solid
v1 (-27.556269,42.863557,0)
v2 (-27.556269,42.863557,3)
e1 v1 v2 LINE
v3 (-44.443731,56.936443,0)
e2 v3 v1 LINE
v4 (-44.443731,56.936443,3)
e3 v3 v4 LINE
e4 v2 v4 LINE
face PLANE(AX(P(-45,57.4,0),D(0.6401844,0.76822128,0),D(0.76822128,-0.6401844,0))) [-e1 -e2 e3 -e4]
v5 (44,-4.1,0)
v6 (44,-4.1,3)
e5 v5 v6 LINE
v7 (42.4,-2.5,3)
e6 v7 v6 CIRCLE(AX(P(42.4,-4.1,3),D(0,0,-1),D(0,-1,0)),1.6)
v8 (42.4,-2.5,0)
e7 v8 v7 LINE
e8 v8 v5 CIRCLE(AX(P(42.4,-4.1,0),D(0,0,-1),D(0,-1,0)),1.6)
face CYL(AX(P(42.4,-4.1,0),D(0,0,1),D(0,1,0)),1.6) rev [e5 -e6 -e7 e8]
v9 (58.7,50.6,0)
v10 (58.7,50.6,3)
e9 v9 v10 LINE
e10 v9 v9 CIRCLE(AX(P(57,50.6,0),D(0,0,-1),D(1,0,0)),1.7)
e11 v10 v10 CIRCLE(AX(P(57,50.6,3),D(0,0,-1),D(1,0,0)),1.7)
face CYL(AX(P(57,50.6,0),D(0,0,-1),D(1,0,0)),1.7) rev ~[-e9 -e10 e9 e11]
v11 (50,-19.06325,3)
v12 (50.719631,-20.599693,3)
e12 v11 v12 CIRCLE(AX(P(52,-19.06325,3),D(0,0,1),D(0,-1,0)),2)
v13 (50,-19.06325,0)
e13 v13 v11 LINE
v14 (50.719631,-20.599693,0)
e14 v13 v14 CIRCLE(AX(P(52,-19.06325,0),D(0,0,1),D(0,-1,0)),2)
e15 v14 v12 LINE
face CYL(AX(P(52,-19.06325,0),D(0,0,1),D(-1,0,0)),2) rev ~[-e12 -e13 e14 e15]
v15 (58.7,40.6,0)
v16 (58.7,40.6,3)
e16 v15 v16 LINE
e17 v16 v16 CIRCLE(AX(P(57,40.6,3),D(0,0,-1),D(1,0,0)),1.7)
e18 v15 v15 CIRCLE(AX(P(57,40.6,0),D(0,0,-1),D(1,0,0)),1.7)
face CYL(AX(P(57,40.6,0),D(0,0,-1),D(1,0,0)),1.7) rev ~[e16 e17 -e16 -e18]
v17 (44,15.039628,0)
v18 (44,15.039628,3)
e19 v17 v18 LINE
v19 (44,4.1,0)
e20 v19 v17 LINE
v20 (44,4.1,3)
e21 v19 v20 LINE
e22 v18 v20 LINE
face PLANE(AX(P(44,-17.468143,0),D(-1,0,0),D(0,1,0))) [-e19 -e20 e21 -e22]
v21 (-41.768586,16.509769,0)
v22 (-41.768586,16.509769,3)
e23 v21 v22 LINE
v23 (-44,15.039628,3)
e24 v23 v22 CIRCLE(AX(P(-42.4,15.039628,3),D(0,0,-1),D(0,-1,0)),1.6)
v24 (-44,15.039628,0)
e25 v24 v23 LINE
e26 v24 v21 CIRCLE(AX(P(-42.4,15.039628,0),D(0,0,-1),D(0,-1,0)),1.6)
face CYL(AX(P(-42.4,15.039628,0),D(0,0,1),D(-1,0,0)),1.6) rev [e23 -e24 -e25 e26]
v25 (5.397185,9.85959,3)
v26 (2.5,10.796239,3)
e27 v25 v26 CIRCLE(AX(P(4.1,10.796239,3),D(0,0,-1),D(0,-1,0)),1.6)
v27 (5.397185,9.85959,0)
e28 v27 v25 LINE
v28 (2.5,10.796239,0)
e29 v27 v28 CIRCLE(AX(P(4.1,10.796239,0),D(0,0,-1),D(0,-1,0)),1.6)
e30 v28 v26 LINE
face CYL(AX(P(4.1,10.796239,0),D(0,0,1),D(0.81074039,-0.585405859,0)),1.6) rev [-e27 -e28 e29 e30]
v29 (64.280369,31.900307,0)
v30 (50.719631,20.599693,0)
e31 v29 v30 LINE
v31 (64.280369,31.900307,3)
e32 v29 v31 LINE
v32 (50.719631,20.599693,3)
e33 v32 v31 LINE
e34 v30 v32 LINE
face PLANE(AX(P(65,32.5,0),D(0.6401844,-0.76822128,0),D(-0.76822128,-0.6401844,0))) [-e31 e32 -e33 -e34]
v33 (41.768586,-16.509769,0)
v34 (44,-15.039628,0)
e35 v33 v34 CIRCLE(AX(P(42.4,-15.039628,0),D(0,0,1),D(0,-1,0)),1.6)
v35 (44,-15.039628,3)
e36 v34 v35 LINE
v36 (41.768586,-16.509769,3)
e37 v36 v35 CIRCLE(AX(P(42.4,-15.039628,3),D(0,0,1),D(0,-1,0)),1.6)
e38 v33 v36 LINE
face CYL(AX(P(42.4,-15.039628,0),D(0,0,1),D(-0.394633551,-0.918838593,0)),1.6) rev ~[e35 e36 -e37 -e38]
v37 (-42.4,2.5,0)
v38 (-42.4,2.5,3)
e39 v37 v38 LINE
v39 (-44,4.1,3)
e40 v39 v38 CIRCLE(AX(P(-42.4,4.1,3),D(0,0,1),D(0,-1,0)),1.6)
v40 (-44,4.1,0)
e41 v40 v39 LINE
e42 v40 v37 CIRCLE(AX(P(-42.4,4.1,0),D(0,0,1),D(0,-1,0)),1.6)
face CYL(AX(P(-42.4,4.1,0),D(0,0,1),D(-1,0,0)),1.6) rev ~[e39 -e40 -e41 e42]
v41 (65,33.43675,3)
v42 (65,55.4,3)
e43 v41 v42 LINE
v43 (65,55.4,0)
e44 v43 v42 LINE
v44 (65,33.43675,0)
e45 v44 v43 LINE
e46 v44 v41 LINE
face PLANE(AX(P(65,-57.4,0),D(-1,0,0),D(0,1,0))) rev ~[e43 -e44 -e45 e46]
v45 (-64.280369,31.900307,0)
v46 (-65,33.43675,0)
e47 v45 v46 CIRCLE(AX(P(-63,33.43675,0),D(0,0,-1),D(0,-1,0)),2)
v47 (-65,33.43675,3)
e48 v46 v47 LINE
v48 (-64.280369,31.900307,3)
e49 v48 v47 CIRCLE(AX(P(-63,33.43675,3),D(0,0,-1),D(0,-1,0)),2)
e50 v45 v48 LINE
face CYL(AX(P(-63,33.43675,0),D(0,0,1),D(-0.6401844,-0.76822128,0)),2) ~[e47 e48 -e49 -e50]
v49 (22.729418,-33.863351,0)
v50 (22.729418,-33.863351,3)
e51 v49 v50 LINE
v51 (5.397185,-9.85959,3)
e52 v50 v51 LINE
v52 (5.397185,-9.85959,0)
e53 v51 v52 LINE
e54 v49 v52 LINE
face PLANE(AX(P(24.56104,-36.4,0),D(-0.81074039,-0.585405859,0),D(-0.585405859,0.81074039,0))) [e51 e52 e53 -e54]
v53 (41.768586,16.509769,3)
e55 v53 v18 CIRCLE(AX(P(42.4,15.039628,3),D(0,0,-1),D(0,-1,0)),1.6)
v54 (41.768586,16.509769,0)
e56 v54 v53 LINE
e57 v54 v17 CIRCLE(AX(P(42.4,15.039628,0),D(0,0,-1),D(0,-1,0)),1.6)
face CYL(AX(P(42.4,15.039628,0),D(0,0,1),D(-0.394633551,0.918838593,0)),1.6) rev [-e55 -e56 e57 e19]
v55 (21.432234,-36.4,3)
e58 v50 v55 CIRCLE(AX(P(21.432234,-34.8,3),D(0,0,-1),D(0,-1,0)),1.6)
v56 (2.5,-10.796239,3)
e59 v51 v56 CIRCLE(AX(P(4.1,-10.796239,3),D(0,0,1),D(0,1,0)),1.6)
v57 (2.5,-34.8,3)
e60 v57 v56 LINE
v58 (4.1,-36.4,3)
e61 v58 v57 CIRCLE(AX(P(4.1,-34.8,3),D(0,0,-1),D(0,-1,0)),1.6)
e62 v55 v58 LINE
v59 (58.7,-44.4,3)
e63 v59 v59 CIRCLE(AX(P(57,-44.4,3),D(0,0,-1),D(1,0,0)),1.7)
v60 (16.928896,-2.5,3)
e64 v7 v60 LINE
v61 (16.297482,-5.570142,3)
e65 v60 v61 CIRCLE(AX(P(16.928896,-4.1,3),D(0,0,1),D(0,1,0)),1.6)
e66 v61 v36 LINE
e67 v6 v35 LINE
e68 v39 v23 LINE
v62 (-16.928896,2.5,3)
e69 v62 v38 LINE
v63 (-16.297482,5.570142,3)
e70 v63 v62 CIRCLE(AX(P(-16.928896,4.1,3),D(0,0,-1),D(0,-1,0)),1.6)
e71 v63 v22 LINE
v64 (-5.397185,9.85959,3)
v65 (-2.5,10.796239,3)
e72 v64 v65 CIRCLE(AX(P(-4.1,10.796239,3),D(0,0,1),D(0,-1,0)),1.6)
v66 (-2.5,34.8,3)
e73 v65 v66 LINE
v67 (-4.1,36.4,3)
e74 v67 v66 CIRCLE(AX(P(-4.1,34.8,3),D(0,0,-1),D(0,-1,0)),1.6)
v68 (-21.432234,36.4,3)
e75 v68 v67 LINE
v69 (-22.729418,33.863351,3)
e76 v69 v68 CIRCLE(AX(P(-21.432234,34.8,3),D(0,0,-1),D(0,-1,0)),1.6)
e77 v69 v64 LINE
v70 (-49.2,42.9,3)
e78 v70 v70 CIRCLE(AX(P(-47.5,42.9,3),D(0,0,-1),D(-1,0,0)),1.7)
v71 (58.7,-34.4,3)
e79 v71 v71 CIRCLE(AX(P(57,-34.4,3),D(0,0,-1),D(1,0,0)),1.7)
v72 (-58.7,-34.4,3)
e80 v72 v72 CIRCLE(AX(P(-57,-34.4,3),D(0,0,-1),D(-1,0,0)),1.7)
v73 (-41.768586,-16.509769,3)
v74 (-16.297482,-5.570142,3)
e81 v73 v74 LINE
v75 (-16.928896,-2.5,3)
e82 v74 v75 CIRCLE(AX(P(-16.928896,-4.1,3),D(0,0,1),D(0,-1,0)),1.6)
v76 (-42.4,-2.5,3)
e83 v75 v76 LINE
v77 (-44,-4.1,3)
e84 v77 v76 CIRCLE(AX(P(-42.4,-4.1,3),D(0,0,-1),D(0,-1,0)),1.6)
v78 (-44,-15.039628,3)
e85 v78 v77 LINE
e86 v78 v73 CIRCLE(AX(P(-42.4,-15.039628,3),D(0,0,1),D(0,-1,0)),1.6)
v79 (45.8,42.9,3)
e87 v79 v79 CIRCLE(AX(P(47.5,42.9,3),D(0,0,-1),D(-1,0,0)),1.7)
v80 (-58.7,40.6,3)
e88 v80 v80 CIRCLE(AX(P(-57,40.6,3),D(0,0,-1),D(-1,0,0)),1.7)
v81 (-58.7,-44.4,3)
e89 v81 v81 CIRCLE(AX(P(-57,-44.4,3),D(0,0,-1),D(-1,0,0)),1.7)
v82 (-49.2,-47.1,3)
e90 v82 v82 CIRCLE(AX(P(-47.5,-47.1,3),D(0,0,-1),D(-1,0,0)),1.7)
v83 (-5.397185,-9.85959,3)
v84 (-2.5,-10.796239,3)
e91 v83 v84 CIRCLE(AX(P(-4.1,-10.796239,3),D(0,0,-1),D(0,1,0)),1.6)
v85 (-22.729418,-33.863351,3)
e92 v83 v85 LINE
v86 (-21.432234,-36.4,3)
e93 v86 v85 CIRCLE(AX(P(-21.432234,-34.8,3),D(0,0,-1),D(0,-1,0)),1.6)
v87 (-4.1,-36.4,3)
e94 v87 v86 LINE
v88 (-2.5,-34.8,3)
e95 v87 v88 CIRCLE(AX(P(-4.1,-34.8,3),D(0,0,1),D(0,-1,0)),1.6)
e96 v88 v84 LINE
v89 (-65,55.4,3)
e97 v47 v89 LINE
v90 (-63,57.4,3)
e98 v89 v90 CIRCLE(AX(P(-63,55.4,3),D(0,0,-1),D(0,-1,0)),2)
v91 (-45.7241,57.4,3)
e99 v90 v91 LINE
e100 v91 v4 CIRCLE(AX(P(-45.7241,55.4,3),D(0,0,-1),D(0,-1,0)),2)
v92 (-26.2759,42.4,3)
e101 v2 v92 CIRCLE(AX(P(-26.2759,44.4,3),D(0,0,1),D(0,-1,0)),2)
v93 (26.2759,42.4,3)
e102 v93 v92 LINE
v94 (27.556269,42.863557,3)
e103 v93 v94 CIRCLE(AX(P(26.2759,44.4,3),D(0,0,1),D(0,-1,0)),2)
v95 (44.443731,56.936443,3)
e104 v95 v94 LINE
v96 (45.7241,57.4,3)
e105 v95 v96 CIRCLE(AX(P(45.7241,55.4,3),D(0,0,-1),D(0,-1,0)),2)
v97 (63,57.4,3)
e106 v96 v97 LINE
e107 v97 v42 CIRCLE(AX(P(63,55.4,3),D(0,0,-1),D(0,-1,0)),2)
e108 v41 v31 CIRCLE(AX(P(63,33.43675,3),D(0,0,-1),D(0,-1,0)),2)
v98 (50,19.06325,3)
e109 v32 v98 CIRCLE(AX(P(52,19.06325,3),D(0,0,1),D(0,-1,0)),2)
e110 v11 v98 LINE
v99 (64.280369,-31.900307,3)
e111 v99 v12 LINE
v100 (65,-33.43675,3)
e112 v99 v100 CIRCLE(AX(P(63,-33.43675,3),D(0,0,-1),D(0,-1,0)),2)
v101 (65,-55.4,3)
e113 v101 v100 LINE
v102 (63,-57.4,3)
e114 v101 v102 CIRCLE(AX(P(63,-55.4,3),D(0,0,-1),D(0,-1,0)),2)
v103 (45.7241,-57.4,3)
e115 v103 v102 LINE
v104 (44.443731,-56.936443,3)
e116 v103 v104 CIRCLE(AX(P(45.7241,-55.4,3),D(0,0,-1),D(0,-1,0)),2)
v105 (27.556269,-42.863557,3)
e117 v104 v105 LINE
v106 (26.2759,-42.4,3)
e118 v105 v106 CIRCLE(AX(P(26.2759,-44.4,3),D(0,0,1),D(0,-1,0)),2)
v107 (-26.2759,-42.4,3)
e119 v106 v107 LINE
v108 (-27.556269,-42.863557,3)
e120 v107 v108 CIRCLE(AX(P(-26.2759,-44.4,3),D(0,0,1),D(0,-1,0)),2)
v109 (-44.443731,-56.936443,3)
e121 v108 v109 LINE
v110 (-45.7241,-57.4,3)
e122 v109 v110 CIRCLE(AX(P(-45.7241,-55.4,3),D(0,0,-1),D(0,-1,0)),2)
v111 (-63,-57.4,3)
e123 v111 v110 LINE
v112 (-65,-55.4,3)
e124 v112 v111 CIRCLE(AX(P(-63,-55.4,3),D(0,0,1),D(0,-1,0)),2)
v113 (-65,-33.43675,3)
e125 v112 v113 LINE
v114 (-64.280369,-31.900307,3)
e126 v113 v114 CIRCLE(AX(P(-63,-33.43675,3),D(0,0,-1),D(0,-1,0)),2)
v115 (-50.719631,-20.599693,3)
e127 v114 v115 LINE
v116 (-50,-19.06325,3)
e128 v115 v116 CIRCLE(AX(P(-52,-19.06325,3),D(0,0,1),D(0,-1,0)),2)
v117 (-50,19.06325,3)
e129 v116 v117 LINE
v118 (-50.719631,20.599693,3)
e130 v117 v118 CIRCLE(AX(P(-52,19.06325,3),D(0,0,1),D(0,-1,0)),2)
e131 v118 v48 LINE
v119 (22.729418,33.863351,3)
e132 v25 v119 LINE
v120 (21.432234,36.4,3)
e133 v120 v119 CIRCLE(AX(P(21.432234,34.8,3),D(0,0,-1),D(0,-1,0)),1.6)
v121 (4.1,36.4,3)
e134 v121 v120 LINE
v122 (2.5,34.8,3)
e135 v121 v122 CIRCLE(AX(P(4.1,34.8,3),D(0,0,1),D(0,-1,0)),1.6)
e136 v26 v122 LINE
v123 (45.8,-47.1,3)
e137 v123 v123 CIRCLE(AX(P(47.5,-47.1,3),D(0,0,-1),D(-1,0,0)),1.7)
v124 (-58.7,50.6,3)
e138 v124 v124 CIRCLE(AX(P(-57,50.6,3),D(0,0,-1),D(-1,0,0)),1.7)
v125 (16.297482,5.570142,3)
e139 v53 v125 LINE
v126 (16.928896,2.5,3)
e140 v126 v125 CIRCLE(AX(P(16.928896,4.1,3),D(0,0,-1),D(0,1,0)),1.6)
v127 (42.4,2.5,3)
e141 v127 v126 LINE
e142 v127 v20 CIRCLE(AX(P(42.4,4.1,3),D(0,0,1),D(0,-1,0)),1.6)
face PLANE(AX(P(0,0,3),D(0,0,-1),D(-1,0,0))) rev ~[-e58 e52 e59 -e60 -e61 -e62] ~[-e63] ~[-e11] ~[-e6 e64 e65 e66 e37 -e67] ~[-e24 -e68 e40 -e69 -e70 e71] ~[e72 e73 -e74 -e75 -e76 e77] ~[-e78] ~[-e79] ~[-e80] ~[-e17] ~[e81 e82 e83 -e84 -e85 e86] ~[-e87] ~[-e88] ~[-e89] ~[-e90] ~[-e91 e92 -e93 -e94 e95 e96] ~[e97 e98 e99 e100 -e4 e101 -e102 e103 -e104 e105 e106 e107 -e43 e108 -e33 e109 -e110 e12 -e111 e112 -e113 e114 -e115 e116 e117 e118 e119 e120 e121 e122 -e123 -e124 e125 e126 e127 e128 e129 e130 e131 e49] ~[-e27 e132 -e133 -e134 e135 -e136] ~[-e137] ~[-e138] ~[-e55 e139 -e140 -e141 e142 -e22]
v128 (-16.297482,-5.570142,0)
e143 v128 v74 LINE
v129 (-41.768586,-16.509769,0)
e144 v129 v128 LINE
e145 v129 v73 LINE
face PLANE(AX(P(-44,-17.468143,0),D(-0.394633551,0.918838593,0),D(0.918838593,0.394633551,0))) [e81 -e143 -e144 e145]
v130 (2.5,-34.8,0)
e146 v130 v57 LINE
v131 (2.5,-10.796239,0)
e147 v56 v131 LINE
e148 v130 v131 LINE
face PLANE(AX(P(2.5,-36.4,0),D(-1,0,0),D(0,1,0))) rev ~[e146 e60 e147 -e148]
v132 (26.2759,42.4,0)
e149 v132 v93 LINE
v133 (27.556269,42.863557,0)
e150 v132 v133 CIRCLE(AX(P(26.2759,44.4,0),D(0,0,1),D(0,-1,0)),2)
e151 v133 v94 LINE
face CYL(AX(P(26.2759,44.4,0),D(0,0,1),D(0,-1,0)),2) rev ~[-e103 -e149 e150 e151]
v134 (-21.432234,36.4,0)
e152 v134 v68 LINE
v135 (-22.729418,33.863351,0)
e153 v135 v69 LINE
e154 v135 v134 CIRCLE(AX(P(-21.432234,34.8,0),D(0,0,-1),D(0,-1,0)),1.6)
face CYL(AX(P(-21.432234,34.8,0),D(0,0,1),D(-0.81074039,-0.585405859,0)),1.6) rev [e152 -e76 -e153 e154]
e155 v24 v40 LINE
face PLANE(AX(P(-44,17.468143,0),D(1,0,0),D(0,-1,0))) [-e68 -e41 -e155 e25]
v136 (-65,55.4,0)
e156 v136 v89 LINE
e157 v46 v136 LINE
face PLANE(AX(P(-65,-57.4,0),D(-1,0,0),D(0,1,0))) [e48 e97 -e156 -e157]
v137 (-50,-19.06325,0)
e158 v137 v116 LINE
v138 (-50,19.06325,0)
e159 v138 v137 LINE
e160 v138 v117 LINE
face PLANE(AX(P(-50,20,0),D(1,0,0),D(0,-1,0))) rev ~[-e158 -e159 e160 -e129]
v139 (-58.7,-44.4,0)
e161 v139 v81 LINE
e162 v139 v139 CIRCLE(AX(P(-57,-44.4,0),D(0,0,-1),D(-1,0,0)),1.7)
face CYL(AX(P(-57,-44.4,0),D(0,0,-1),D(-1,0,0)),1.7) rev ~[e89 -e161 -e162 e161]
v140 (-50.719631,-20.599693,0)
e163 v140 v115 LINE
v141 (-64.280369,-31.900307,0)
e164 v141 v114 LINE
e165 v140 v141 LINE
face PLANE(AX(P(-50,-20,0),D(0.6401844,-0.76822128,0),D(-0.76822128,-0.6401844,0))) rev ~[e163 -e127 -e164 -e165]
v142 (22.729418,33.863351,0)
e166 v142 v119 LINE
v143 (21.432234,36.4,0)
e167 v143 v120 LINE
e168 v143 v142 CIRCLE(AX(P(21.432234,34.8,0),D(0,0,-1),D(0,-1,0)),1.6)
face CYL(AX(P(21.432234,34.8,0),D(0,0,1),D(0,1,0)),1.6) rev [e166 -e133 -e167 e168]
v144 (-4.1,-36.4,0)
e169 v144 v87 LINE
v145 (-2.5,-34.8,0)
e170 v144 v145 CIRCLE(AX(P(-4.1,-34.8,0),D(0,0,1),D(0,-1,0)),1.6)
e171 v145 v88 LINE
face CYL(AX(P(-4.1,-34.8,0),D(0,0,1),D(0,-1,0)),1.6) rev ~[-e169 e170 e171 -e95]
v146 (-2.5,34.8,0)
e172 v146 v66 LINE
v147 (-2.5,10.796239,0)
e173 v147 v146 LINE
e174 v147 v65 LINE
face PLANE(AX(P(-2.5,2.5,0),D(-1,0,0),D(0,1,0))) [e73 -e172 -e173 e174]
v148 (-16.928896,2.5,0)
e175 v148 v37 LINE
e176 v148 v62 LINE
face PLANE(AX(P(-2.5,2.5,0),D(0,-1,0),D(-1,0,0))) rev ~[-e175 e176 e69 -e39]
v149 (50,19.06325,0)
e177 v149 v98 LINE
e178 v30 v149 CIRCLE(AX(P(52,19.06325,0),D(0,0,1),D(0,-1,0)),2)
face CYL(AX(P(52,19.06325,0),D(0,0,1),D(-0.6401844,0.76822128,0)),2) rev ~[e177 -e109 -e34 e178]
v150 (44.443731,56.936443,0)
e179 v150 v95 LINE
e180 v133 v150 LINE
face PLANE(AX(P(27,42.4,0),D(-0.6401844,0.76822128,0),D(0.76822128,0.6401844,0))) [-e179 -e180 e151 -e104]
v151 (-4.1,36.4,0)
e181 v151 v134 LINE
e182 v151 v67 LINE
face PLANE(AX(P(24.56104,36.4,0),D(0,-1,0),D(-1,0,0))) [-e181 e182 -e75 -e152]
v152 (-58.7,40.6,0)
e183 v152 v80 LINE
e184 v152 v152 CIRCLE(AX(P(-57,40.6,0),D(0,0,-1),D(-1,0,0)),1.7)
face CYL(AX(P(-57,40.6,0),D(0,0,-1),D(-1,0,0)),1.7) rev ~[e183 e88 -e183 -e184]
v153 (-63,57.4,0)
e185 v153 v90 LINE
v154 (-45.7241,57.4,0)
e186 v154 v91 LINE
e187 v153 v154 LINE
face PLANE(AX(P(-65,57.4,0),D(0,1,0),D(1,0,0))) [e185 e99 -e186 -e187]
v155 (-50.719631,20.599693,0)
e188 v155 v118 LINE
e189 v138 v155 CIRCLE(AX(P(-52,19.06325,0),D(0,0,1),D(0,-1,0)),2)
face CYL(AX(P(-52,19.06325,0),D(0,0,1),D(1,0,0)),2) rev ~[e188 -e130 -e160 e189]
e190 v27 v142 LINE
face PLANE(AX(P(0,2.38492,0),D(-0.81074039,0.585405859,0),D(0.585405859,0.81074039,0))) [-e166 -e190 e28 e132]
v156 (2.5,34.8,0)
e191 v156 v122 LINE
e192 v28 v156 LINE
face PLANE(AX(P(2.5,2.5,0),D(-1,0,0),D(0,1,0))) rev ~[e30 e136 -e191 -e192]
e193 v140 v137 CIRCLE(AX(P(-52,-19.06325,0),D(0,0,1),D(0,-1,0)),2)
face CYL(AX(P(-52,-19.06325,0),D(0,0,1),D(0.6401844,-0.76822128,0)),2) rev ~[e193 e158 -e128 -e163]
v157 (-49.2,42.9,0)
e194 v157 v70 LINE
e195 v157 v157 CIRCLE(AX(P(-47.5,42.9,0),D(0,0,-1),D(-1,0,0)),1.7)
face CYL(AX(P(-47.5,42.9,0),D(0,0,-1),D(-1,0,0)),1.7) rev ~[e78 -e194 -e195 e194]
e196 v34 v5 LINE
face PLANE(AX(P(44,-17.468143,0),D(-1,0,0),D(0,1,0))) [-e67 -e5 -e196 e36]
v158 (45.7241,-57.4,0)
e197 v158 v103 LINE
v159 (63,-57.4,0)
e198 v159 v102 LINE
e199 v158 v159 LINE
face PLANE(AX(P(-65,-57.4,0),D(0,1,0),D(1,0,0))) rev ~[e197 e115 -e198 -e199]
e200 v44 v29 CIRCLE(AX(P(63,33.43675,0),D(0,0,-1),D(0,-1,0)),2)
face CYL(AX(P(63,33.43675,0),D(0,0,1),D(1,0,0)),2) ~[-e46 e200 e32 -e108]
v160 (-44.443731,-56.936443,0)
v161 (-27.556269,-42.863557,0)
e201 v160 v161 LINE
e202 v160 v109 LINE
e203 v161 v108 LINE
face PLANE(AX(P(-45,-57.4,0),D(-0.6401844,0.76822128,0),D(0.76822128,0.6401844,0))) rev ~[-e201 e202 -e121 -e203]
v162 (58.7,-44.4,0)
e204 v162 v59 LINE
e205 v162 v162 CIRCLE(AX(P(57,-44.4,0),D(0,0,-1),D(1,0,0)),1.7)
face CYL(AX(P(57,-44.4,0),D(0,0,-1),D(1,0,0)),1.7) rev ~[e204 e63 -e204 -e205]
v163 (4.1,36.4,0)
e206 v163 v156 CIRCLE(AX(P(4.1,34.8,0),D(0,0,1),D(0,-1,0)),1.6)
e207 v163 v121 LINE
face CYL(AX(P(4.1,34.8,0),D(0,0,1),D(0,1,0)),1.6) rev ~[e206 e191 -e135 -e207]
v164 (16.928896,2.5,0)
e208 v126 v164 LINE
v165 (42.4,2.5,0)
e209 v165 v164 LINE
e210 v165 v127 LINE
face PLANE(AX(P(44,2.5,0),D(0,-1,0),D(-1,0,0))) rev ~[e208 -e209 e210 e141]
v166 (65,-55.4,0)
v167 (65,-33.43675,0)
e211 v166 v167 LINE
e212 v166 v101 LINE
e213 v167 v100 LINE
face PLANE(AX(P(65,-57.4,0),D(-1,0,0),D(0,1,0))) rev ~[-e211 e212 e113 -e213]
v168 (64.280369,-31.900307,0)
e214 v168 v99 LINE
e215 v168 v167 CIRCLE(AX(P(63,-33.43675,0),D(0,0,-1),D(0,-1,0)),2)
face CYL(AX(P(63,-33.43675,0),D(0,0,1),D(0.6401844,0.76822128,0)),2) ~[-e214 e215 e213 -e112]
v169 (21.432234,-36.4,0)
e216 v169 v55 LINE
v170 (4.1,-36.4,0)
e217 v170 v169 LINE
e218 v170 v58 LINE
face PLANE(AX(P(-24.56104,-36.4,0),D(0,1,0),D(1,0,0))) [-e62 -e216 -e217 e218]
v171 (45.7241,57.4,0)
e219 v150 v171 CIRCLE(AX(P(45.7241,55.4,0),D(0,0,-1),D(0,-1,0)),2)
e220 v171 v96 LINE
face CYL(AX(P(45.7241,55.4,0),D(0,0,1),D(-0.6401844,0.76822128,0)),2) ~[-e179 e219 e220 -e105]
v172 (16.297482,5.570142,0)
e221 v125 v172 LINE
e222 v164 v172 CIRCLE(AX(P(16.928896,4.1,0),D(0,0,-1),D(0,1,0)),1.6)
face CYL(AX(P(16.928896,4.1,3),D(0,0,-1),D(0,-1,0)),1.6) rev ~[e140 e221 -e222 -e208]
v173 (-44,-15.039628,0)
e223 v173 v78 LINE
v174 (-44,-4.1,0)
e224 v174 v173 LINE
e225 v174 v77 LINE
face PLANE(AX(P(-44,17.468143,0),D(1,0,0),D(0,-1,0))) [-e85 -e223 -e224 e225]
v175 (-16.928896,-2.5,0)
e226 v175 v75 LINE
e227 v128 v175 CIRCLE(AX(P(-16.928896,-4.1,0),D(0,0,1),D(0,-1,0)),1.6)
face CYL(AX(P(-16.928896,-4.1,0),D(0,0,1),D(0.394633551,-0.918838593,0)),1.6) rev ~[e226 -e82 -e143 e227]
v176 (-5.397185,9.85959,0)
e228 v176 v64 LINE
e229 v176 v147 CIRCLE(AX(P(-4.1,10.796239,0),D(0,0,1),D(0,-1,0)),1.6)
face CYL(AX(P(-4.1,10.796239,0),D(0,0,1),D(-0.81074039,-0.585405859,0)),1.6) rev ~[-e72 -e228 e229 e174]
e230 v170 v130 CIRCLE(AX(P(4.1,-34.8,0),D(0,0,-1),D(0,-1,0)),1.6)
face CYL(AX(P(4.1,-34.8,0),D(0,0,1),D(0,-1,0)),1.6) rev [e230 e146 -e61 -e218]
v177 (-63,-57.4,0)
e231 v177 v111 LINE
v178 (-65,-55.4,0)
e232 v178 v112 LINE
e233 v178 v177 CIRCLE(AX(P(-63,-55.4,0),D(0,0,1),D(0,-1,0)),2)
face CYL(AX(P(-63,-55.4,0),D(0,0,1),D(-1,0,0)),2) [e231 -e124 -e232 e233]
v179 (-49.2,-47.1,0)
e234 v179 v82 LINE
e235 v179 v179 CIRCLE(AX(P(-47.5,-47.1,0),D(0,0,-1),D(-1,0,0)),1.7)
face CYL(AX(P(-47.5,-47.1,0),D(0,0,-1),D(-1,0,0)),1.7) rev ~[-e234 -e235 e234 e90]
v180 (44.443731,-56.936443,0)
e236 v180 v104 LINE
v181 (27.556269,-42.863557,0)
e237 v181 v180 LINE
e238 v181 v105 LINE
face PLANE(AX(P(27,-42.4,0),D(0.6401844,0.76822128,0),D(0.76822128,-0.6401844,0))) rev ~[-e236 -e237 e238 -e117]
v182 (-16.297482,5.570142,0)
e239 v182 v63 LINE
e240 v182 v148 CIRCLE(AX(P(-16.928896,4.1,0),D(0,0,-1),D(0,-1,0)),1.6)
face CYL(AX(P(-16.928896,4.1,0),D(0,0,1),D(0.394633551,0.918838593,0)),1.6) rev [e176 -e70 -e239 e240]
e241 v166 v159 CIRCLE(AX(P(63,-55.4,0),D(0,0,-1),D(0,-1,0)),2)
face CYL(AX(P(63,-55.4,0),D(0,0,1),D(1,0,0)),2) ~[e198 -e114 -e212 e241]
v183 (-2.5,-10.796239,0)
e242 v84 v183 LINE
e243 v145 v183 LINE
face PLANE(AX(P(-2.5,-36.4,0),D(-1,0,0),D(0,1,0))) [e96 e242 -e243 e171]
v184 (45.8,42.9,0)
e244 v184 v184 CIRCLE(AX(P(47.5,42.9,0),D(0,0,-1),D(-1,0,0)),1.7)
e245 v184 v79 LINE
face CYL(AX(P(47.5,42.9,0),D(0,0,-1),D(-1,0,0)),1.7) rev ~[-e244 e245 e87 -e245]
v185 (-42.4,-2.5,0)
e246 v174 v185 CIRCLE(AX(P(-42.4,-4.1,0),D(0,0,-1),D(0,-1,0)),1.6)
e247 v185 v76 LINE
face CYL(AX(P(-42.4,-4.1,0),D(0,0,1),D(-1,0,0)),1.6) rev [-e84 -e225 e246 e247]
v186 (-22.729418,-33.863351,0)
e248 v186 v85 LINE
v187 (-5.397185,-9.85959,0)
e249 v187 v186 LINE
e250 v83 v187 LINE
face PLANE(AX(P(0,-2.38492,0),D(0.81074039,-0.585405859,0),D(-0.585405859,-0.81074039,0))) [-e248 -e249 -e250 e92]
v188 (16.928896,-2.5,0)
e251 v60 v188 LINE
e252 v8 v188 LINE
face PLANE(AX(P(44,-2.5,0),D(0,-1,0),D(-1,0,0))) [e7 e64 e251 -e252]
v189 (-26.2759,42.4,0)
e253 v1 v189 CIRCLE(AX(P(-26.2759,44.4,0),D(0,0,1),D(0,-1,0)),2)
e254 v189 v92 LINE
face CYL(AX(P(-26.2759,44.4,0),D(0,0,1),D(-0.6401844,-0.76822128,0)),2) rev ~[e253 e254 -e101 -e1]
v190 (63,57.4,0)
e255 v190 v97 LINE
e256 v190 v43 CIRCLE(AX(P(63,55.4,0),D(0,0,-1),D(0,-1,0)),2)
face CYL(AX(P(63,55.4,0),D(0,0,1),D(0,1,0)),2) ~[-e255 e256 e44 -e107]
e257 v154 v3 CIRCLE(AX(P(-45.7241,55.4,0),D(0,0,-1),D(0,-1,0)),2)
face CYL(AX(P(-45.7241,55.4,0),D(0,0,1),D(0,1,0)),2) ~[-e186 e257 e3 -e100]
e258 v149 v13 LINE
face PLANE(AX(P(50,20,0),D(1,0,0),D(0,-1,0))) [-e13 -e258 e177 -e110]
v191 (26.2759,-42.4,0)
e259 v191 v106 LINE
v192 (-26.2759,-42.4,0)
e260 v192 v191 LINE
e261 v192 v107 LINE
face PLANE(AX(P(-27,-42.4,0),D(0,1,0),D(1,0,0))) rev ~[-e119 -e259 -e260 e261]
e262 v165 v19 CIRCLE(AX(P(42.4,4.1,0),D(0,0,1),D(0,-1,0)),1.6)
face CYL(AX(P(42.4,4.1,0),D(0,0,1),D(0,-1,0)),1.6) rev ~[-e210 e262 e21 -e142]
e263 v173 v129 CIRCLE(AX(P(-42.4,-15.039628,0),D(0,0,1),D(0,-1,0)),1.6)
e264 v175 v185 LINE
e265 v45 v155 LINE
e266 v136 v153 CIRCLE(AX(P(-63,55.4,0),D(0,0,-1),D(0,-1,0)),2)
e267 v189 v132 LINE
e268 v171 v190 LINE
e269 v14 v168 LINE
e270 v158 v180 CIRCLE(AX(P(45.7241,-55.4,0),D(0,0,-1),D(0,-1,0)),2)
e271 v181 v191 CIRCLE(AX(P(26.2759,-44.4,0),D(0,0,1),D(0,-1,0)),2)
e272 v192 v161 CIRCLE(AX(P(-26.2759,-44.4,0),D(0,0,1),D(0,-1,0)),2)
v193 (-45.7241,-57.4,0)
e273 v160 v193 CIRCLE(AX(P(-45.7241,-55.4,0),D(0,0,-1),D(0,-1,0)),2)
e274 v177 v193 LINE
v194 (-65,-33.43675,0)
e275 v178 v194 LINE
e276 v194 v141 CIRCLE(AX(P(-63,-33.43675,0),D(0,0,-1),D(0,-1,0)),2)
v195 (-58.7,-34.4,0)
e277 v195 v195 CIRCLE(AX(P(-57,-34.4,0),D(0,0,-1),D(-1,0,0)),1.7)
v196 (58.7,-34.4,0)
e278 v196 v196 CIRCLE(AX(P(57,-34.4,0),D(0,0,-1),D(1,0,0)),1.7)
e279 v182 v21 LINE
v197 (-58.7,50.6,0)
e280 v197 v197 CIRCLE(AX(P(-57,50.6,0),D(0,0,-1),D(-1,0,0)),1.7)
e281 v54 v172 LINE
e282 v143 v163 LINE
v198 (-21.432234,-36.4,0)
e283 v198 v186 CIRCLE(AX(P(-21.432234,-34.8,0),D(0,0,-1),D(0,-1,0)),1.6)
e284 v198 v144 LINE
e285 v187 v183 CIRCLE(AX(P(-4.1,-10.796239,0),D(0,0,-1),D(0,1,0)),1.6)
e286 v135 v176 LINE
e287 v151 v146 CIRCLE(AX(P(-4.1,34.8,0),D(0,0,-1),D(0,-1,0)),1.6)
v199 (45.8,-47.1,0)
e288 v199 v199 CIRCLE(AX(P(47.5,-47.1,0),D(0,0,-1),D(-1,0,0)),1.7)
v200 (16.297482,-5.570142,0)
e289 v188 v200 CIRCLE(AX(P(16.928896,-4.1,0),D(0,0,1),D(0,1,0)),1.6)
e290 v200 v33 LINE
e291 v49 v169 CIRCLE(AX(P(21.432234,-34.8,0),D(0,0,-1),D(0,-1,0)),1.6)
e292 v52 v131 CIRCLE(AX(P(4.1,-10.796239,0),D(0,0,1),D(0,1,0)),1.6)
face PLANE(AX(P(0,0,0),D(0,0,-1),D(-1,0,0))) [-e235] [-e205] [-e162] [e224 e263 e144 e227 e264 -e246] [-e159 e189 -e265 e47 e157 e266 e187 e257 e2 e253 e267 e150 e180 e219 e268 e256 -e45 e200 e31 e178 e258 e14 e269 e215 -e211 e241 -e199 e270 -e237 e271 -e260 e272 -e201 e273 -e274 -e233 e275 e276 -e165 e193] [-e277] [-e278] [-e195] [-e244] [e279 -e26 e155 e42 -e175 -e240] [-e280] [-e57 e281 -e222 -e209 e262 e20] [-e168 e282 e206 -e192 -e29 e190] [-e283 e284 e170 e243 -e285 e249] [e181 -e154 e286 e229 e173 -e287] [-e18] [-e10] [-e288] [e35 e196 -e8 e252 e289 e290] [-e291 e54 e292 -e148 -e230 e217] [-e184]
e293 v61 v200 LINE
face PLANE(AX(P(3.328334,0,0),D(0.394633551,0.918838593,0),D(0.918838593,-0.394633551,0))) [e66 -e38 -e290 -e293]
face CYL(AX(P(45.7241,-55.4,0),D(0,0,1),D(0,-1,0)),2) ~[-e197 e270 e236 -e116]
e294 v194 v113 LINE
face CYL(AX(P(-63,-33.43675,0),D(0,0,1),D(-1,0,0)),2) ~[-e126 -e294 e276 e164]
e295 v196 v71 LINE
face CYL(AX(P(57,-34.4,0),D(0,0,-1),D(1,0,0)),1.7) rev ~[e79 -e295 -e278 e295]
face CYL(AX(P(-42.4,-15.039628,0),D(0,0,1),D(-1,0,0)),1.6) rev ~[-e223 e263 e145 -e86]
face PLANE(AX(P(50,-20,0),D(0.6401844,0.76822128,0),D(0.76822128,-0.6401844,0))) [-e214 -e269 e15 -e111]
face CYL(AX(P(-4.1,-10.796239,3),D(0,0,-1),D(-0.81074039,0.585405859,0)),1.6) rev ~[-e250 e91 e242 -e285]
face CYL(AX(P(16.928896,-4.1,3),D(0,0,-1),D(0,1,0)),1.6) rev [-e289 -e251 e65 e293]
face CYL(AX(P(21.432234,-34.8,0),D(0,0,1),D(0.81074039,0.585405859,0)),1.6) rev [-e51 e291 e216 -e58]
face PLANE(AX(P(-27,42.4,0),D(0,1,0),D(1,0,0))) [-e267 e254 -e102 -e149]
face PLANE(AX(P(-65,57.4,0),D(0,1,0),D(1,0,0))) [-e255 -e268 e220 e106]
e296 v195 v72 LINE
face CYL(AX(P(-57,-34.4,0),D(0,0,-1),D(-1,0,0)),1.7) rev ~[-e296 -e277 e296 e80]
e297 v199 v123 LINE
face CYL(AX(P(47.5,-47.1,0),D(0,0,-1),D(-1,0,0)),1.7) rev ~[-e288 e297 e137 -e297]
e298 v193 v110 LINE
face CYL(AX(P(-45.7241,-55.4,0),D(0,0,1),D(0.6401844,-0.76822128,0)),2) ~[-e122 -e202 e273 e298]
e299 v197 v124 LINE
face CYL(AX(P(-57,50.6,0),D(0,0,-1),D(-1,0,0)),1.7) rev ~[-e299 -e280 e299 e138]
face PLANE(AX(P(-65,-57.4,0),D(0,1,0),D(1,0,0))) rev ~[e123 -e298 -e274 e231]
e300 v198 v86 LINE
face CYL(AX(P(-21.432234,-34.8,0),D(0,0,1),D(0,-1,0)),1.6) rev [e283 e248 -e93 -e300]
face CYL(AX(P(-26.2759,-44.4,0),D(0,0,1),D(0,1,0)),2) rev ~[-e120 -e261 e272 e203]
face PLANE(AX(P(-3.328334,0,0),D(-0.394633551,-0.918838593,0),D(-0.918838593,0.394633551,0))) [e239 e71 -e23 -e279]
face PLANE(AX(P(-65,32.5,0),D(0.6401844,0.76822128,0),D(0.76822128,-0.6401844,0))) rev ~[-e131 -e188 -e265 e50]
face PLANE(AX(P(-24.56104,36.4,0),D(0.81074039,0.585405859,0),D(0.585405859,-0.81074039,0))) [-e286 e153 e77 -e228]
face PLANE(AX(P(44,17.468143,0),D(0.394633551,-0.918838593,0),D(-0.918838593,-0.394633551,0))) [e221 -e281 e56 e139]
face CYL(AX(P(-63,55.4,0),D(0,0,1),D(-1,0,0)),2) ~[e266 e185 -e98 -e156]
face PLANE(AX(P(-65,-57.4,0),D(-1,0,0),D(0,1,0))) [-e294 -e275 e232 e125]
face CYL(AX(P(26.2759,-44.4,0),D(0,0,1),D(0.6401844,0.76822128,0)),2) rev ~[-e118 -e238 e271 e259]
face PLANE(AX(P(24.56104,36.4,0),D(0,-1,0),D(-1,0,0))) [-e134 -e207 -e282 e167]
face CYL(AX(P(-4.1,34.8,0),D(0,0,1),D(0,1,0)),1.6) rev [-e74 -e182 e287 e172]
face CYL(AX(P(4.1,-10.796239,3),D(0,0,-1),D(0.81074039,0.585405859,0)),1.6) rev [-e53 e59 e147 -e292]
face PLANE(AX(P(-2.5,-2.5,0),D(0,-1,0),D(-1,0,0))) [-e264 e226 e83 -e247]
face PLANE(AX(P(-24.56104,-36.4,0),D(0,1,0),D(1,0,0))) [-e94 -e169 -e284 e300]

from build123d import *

# Parameters (mm, degrees)
SKETCH_1_W          = 130
SKETCH_1_H          = 114.8
EXTRUDE_1_DEPTH     = 3
SKETCH_2_R          = 1.7
CUT_EXTRUDE_1_DEPTH = 87.768427438
SKETCH_4_R          = 1.7
CUT_EXTRUDE_3_DEPTH = 87.768427438
CUT_EXTRUDE_5_DEPTH = 87.768427438
CUT_EXTRUDE_6_DEPTH = 87.768427438
EXTRUDE_4_DEPTH     = 3
SKETCH_10_W         = 88
SKETCH_10_H         = 5
SKETCH_10_W_2       = 5
SKETCH_10_H_2       = 72.8
EXTRUDE_1_2_DEPTH   = 3
FILLET_2_R          = 1.6
FILLET_3_R          = 2


with BuildPart() as part:
    # 草图1 → Extrude 1 (new body)
    with BuildSketch(Plane.XY):
        Rectangle(SKETCH_1_W, SKETCH_1_H)
    extrude(amount=EXTRUDE_1_DEPTH)

    # 草图2 → 切除-拉伸1 (cut, through all)
    with BuildSketch(Plane(origin=(0, 0, 0), x_dir=(-1, 0, 0), z_dir=(0, 0, -1))):
        with Locations((57, -34.4)):
            Circle(SKETCH_2_R)
        with Locations((57, -44.4)):
            Circle(SKETCH_2_R)
        with Locations((57, 50.6)):
            Circle(SKETCH_2_R)
        with Locations((57, 40.6)):
            Circle(SKETCH_2_R)
        with Locations(Location((-57, -44.4, 0), (0, 0, 180))):
            Circle(SKETCH_2_R)
        with Locations(Location((-57, -34.4, 0), (0, 0, 180))):
            Circle(SKETCH_2_R)
        with Locations(Location((-57, 40.6, 0), (0, 0, 180))):
            Circle(SKETCH_2_R)
        with Locations(Location((-57, 50.6, 0), (0, 0, 180))):
            Circle(SKETCH_2_R)
    extrude(amount=-CUT_EXTRUDE_1_DEPTH, mode=Mode.SUBTRACT)

    # 草图4 → 切除-拉伸3 (cut, through all)
    with BuildSketch(Plane(origin=(0, 0, 0), x_dir=(-1, 0, 0), z_dir=(0, 0, -1))):
        with Locations((-47.5, 42.9)):
            Circle(SKETCH_4_R)
        with Locations((47.5, 42.9)):
            Circle(SKETCH_4_R)
        with Locations((47.5, -47.1)):
            Circle(SKETCH_4_R)
        with Locations((-47.5, -47.1)):
            Circle(SKETCH_4_R)
    extrude(amount=-CUT_EXTRUDE_3_DEPTH, mode=Mode.SUBTRACT)

    # 草图7 → 切除-拉伸5 (cut, through all)
    with BuildSketch(Plane(origin=(0, 0, 0), x_dir=(-1, 0, 0), z_dir=(0, 0, -1))):
        Polygon((-65, 32.5), (-50, 20), (-50, -20), (-65, -32.5), align=None)
        Polygon((50, -20), (65, -32.5), (65, 32.5), (50, 20), align=None)
        Polygon((-45, -57.4), (45, -57.4), (27, -42.4), (-27, -42.4), align=None)
        Polygon((27, 42.4), (-27, 42.4), (-45, 57.4), (45, 57.4), align=None)
    extrude(amount=-CUT_EXTRUDE_5_DEPTH, mode=Mode.SUBTRACT)

    # 草图8 → 切除-拉伸6 (cut, through all)
    with BuildSketch(Plane(origin=(0, 0, 0), x_dir=(-1, 0, 0), z_dir=(0, 0, -1))):
        Polygon((-44, 17.468143152), (-24.561039844, 36.4), (24.561039844, 36.4), (44, 17.468143152), (44, -17.468143152), (24.561039844, -36.4), (-24.561039844, -36.4), (-44, -17.468143152), align=None)
    extrude(amount=-CUT_EXTRUDE_6_DEPTH, mode=Mode.SUBTRACT)

    # 草图9 → 凸台-拉伸4 (add, through all)
    with BuildSketch(Plane(origin=(0, 0, 0), x_dir=(-1, 0, 0), z_dir=(0, 0, -1))):
        Polygon((44, -17.468143152), (3.328333696, 0), (44, 17.468143152), (24.561039844, 36.4), (0, 2.384920184), (-24.561039844, 36.4), (-44, 17.468143152), (-3.328333696, 0), (-44, -17.468143152), (-24.561039844, -36.4), (0, -2.384920184), (24.561039844, -36.4), align=None)
    extrude(amount=-EXTRUDE_4_DEPTH)

    # 草图10 → Extrude 1 2 (add, through all)
    with BuildSketch(Plane(origin=(0, 0, 0), x_dir=(-1, 0, 0), z_dir=(0, 0, -1))):
        Rectangle(SKETCH_10_W, SKETCH_10_H)
        Rectangle(SKETCH_10_W_2, SKETCH_10_H_2)
    extrude(amount=-EXTRUDE_1_2_DEPTH)

    # 圆角2
    fillet_2_edges = [part.edges().sort_by_distance(p)[0] for p in [
        (44, -17.468143152, 1.5),
        (44, 17.468143152, 1.5),
        (24.561039844, 36.4, 1.5),
        (-24.561039844, 36.4, 1.5),
        (-44, 17.468143152, 1.5),
        (-44, -17.468143152, 1.5),
        (-24.561039844, -36.4, 1.5),
        (24.561039844, -36.4, 1.5),
        (2.5, 5.847220644, 1.5),
        (9.149167935, 2.5, 1.5),
        (9.149167935, -2.5, 1.5),
        (2.5, -5.847220644, 1.5),
        (-2.5, -5.847220644, 1.5),
        (-9.149167935, -2.5, 1.5),
        (-9.149167935, 2.5, 1.5),
        (-2.5, 5.847220644, 1.5),
        (-2.5, 36.4, 1.5),
        (-44, -2.5, 1.5),
        (2.5, -36.4, 1.5),
        (44, -2.5, 1.5),
        (44, 2.5, 1.5),
        (-44, 2.5, 1.5),
        (2.5, 36.4, 1.5),
        (-2.5, -36.4, 1.5),
    ]]
    fillet(fillet_2_edges, radius=FILLET_2_R)

    # 圆角3
    fillet_3_edges = [part.edges().sort_by_distance(p)[0] for p in [
        (65, -32.5, 1.5),
        (65, 32.5, 1.5),
        (50, 20, 1.5),
        (50, -20, 1.5),
        (-50, -20, 1.5),
        (-50, 20, 1.5),
        (-65, 32.5, 1.5),
        (-65, -32.5, 1.5),
        (45, -57.4, 1.5),
        (27, -42.4, 1.5),
        (-27, -42.4, 1.5),
        (-45, -57.4, 1.5),
        (-45, 57.4, 1.5),
        (-27, 42.4, 1.5),
        (27, 42.4, 1.5),
        (45, 57.4, 1.5),
        (65, -57.4, 1.5),
        (-65, -57.4, 1.5),
        (-65, 57.4, 1.5),
        (65, 57.4, 1.5),
    ]]
    fillet(fillet_3_edges, radius=FILLET_3_R)


solid = part.part
